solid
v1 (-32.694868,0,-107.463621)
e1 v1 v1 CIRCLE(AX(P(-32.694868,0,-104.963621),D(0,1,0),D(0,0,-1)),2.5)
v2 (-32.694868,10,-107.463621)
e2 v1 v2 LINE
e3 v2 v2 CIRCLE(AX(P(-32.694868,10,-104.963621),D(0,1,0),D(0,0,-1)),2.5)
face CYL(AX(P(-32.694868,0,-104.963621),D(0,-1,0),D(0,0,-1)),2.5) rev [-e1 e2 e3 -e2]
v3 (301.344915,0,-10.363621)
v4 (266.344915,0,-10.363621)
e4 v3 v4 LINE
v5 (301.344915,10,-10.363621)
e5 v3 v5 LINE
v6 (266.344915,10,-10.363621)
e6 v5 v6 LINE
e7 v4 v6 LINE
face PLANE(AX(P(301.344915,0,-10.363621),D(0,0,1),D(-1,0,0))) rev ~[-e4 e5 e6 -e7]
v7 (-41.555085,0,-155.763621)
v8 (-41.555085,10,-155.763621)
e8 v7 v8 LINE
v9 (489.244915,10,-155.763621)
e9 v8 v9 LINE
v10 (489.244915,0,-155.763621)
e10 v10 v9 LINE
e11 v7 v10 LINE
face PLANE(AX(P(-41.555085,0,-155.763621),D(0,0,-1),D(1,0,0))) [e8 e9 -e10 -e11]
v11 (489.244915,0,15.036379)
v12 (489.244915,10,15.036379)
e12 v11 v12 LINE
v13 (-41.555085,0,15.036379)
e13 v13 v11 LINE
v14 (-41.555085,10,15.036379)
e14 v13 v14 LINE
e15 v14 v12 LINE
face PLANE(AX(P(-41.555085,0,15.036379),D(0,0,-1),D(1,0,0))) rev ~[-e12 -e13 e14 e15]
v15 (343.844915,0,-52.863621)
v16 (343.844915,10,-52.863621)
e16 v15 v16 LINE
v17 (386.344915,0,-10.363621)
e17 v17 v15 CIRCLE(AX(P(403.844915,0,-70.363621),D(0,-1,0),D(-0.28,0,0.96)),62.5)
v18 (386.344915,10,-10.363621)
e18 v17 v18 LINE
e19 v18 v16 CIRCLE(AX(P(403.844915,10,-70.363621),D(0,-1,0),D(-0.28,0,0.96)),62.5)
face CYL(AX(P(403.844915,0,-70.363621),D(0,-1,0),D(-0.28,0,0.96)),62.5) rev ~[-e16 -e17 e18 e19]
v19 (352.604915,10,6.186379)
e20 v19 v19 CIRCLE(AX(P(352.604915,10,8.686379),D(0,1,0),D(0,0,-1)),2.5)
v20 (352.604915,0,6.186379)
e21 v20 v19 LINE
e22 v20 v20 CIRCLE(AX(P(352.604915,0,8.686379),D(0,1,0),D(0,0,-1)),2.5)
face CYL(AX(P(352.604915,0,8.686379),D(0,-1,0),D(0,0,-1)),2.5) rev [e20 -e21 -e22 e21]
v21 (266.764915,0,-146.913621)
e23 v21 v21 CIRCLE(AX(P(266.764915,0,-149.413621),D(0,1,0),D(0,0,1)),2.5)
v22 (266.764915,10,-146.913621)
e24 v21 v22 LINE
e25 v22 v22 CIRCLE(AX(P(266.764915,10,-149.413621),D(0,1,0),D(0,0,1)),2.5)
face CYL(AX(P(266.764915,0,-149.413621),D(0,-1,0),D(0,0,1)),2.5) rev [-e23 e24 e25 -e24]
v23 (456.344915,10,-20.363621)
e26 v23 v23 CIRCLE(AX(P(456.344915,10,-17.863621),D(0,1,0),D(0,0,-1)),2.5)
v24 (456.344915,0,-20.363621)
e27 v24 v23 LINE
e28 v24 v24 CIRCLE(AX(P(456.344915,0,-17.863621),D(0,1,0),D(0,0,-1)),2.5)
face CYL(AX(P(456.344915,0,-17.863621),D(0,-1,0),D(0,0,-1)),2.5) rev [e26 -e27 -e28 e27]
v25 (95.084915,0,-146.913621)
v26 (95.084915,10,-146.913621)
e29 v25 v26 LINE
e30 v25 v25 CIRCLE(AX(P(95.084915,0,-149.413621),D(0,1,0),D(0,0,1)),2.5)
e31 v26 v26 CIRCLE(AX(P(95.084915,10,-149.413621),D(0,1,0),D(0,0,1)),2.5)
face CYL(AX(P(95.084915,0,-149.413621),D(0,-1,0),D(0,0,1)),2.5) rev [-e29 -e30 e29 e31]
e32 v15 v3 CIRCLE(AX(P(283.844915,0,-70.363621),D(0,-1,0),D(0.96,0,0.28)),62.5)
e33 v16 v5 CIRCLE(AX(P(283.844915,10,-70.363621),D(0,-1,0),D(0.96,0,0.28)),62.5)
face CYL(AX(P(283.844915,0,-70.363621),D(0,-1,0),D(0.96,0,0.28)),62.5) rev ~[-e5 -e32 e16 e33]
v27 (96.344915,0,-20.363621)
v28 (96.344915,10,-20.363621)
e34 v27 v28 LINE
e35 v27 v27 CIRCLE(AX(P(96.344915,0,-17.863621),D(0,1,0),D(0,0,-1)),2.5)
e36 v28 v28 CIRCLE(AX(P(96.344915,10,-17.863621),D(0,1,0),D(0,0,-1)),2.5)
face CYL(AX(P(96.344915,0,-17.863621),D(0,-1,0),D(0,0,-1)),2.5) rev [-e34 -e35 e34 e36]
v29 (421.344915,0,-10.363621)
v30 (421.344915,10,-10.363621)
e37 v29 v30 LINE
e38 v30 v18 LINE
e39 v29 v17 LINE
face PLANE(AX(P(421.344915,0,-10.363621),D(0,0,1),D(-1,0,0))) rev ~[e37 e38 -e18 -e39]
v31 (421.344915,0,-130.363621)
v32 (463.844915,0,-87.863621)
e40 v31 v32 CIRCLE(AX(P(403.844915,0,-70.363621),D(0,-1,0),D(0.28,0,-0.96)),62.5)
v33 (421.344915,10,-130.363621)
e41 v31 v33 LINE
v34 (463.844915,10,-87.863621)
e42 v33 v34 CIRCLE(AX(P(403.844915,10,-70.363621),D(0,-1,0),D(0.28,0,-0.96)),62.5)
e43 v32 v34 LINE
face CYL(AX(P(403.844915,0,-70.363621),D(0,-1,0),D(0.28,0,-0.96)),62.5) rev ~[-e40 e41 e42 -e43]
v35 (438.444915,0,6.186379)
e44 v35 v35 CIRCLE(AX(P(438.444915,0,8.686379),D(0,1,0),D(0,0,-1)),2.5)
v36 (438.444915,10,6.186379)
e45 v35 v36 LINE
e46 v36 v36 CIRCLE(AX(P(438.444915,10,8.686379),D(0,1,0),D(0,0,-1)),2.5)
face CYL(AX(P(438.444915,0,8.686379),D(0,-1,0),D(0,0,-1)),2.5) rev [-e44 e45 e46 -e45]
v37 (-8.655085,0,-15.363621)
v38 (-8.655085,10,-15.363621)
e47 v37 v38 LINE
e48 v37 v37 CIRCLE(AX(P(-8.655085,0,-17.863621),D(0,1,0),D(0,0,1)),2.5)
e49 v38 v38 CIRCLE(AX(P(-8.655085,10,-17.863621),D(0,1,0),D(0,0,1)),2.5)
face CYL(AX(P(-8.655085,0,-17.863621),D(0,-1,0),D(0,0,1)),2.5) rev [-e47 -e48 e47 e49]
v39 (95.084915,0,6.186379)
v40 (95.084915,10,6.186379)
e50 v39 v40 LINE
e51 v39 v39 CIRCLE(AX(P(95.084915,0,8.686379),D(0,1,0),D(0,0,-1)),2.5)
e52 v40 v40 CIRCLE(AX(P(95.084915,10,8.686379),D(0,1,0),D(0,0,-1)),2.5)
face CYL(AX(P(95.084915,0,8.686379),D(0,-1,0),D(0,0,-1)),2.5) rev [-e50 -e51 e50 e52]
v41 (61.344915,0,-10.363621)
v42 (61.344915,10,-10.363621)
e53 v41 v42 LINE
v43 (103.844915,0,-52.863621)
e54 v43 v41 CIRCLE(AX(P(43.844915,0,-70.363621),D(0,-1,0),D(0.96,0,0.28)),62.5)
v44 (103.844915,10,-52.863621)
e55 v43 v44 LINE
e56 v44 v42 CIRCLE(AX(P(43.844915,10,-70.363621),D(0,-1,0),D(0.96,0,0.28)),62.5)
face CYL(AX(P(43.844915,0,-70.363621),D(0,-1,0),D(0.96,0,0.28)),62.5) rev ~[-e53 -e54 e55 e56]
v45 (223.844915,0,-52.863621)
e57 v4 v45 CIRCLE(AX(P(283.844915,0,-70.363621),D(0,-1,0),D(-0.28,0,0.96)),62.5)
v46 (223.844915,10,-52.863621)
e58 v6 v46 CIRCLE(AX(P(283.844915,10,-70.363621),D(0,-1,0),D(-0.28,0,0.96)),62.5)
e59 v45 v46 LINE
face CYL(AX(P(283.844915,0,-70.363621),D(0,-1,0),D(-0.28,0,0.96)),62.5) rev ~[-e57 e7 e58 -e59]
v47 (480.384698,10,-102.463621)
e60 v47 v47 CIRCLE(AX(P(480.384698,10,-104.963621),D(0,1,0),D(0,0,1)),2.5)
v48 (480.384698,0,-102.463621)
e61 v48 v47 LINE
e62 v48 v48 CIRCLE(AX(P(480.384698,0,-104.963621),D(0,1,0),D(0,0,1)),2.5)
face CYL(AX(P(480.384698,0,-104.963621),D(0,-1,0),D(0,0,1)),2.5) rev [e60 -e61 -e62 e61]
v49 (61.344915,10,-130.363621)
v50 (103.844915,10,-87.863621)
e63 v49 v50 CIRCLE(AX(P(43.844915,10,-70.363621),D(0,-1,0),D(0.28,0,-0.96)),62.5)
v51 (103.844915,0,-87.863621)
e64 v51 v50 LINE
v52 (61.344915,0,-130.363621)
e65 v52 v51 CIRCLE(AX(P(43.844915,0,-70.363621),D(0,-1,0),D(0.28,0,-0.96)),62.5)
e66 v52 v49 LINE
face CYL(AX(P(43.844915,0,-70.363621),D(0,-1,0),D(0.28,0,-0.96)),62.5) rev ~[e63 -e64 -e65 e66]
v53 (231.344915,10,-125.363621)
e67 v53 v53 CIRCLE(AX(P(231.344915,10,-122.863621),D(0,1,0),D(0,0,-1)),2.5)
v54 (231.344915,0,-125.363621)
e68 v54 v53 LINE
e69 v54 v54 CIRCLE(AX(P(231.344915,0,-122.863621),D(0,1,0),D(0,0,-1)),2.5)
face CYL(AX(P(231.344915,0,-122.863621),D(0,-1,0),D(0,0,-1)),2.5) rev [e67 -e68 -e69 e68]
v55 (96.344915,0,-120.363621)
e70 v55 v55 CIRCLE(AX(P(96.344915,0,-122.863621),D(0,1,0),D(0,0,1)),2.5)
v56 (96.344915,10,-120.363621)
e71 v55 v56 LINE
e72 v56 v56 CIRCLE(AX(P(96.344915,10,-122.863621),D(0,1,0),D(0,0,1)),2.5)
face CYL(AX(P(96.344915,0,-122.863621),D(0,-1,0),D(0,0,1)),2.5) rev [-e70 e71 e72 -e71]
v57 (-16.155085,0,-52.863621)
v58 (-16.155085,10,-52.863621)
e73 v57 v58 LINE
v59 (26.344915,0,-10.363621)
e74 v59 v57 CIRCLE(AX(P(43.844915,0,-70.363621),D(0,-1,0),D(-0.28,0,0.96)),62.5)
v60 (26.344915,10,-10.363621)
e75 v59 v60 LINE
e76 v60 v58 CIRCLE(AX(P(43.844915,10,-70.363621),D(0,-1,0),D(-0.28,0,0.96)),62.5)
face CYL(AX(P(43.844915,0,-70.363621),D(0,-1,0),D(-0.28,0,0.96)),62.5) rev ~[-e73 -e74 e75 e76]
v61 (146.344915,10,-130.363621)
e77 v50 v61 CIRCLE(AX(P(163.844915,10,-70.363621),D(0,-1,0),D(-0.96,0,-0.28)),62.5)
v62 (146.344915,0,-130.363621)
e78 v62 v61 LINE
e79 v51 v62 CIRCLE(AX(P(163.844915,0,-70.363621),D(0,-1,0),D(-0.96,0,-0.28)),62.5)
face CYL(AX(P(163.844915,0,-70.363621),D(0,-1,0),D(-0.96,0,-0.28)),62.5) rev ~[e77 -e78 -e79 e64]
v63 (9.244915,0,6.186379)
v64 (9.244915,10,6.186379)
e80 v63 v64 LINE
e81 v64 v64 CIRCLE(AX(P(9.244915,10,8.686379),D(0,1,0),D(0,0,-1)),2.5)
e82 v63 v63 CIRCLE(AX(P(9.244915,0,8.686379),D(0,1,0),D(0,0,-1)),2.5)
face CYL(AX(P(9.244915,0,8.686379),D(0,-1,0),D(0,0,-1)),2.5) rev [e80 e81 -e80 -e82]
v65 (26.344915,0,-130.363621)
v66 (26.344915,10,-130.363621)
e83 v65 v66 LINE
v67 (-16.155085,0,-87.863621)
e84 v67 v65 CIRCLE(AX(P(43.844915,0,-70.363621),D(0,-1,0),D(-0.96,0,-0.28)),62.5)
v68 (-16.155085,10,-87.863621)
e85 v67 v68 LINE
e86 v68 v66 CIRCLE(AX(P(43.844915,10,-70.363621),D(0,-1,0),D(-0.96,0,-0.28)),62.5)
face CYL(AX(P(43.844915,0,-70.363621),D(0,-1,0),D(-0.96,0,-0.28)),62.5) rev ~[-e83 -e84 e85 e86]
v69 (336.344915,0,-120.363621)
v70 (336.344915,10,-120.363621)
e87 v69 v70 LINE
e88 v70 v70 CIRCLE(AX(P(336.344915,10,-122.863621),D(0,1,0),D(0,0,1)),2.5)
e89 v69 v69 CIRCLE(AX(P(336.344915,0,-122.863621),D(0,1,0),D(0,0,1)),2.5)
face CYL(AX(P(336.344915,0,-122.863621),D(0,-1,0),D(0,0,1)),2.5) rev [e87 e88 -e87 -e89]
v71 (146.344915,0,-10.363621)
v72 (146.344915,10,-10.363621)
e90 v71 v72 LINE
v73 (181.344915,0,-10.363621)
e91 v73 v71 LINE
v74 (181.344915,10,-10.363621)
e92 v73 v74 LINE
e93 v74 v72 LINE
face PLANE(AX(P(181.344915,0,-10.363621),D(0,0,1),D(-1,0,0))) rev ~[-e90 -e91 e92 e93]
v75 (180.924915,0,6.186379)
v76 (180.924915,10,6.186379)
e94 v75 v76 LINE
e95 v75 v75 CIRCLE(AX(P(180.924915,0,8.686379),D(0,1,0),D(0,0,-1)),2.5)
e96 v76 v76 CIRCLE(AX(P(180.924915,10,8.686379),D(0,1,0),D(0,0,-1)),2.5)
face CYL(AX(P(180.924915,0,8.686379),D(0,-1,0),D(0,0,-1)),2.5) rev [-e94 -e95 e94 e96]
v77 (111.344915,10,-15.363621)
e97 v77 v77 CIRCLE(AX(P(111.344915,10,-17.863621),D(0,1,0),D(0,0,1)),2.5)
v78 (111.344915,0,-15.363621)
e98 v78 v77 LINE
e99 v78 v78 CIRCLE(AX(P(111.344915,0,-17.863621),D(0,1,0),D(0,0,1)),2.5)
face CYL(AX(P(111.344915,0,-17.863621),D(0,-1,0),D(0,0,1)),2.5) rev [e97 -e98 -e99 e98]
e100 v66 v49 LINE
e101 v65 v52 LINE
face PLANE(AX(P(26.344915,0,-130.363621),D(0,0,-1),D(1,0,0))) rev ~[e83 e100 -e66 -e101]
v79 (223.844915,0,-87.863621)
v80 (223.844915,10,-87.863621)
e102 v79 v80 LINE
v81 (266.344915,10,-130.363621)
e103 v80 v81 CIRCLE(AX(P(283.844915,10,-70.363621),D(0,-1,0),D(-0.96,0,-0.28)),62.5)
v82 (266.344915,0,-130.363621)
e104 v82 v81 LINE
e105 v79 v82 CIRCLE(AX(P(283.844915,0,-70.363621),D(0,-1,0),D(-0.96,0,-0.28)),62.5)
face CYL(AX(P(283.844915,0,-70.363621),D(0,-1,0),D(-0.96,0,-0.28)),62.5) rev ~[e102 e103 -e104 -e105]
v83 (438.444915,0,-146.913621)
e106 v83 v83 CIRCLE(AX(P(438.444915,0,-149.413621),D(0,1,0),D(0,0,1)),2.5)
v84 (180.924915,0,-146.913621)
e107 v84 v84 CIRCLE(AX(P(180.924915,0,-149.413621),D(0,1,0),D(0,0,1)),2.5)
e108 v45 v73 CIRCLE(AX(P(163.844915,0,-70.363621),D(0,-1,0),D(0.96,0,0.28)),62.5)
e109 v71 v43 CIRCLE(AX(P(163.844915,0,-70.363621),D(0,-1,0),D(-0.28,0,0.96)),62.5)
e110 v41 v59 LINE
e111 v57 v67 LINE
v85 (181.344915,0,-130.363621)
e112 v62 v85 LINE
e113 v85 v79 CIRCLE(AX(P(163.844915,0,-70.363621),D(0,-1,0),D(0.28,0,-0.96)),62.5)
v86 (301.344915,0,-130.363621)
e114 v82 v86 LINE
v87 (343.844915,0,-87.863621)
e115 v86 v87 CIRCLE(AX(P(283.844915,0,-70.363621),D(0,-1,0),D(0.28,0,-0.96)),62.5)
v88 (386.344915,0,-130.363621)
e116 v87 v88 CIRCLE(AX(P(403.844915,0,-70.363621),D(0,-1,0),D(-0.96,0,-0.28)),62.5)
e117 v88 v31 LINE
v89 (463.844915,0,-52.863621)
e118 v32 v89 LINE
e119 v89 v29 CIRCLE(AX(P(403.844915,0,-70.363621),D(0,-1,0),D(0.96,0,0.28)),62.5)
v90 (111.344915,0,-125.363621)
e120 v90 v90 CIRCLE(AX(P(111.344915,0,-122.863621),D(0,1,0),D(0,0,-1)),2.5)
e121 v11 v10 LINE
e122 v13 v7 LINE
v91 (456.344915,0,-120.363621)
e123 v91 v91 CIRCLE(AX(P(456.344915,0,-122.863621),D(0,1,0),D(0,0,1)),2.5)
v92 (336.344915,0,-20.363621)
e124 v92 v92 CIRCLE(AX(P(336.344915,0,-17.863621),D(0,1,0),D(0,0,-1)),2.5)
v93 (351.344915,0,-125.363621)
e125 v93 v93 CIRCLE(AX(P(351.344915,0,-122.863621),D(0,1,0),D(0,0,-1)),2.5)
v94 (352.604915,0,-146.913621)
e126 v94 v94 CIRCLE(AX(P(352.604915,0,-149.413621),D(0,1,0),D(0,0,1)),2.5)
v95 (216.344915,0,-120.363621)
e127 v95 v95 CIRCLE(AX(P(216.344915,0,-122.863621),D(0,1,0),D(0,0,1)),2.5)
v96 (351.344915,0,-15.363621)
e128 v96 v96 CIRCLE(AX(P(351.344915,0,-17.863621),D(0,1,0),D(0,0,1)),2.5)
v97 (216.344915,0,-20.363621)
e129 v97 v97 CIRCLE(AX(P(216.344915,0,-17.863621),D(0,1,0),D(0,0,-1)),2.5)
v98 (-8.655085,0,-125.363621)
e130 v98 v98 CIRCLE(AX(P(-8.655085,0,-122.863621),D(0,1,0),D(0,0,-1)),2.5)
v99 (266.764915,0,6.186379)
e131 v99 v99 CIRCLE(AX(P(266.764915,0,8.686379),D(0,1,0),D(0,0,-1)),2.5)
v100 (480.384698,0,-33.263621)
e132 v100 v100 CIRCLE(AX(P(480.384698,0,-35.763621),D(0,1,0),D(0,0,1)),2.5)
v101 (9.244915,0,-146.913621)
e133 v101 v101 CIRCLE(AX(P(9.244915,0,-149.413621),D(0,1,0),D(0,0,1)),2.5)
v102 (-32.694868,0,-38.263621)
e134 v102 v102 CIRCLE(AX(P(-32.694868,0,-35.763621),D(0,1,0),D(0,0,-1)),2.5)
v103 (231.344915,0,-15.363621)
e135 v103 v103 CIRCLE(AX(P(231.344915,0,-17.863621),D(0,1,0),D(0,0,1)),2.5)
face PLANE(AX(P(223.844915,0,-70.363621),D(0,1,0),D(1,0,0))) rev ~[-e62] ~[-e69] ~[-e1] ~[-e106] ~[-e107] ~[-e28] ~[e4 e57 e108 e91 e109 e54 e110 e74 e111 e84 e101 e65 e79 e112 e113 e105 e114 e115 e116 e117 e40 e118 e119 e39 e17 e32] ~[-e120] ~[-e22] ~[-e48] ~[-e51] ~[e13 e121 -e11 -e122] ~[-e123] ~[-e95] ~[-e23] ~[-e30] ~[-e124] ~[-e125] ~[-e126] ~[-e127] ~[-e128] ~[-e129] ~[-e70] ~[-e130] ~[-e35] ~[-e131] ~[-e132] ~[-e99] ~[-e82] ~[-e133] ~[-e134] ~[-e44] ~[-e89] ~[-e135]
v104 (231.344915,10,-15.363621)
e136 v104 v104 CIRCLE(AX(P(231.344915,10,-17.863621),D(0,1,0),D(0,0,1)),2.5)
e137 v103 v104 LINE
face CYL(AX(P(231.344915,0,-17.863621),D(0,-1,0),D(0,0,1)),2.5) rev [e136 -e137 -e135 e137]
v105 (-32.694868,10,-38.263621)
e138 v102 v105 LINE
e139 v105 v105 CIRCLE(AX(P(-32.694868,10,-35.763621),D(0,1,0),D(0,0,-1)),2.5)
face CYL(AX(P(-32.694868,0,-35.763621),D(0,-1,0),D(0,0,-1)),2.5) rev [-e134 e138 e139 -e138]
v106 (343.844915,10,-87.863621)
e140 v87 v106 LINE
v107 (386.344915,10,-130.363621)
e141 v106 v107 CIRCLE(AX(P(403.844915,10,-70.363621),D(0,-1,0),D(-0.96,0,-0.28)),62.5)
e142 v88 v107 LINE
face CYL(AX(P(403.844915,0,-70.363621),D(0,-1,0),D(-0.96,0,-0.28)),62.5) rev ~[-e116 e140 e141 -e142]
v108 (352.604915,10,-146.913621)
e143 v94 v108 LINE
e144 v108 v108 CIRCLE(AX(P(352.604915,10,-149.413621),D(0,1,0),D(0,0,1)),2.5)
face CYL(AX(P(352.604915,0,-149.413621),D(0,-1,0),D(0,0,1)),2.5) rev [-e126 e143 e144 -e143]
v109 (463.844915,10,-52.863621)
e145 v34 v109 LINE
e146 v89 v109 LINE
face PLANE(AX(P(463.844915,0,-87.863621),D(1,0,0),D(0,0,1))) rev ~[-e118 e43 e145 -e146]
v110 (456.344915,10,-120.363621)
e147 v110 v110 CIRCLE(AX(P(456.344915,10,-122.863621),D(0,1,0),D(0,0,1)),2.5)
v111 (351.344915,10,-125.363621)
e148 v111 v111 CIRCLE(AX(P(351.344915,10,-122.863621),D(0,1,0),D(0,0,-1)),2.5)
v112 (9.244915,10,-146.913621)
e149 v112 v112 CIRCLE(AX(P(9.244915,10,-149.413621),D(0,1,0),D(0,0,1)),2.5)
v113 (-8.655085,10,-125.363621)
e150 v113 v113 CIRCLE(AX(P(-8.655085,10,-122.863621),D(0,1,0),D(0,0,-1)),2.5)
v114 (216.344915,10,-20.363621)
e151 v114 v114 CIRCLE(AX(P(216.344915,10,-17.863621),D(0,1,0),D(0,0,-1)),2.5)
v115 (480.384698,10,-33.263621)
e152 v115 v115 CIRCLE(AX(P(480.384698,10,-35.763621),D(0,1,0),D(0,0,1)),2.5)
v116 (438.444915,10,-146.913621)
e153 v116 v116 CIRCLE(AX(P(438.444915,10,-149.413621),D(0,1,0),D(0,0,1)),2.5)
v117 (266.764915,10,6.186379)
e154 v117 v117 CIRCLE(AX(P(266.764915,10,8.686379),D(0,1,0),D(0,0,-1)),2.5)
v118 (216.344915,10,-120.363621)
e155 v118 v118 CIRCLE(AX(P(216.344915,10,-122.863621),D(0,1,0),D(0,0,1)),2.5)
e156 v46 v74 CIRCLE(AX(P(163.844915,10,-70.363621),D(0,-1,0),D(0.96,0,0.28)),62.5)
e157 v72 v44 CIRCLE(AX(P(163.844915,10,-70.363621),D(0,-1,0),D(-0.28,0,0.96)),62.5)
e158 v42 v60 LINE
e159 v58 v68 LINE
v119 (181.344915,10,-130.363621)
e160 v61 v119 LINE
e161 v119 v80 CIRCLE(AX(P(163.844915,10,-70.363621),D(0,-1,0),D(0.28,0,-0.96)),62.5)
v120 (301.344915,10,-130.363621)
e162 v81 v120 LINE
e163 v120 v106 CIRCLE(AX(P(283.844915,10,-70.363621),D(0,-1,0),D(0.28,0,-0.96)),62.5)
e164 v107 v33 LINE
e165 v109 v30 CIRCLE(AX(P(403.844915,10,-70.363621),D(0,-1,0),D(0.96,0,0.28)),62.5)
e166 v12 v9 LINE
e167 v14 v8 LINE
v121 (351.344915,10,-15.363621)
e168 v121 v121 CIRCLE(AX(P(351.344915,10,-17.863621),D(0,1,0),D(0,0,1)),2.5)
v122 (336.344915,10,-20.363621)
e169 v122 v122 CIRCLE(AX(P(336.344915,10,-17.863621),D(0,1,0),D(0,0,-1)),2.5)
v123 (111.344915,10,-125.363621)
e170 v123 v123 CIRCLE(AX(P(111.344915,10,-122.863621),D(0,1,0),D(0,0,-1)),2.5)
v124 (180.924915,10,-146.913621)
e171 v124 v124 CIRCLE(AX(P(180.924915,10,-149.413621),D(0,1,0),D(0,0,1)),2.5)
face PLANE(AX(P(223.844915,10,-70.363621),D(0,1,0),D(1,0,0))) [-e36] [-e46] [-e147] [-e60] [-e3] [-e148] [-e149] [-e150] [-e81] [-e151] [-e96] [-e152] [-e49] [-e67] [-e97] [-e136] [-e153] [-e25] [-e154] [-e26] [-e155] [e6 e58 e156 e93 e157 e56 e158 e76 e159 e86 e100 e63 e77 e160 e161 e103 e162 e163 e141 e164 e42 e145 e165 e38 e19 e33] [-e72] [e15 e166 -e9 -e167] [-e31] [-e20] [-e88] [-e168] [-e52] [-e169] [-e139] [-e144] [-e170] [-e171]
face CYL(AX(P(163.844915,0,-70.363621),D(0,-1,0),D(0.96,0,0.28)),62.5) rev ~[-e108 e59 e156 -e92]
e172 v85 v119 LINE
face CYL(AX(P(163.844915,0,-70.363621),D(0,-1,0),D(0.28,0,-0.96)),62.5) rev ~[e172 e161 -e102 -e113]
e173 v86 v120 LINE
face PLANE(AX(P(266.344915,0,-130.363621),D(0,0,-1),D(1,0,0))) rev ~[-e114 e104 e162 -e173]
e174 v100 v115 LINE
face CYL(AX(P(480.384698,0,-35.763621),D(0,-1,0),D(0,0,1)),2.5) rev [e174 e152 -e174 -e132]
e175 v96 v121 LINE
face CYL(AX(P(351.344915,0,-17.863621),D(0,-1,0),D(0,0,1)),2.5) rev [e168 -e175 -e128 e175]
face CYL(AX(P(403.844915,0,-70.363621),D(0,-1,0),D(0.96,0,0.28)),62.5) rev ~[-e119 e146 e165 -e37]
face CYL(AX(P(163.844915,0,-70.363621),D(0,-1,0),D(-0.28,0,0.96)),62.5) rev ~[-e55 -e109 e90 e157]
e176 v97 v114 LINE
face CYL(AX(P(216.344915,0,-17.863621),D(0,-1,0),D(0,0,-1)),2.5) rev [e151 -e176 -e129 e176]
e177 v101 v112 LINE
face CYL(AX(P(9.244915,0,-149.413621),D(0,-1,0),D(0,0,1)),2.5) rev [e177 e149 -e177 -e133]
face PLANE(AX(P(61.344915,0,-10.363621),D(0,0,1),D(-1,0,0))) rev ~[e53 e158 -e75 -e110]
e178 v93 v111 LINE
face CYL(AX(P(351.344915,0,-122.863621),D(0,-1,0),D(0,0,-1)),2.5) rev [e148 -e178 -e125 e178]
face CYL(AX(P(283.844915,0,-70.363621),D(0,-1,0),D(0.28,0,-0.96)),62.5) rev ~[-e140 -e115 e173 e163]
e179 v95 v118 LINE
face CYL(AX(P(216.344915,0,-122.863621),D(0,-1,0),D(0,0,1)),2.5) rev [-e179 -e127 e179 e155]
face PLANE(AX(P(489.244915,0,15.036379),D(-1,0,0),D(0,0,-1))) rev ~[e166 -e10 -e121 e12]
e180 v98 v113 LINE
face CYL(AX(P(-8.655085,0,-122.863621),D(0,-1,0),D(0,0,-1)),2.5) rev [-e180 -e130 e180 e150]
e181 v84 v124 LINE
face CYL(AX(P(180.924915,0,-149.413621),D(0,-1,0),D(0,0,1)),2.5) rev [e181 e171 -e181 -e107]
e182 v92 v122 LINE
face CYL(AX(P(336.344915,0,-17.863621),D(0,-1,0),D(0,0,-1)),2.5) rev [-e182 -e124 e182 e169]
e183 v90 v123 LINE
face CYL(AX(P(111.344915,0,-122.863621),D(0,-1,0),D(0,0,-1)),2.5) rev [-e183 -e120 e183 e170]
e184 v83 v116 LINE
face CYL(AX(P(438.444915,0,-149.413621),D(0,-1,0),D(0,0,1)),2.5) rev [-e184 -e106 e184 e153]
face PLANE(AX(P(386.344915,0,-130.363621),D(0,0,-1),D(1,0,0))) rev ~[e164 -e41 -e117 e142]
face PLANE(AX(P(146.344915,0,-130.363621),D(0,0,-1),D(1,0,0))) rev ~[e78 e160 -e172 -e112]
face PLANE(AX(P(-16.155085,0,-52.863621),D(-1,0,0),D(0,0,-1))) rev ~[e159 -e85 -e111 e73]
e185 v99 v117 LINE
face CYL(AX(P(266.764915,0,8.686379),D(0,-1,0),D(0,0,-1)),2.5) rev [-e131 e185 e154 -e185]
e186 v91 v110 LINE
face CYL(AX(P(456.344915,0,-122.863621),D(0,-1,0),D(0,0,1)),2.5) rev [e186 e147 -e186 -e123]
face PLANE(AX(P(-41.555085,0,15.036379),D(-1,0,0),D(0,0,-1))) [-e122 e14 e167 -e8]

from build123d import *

# Parameters (mm, degrees)
SKETCH1_W           = 530.8
SKETCH1_H           = 170.8
SKETCH1_R           = 2.5
BOSS_EXTRUDE1_DEPTH = 10


with BuildPart() as part:
    # Sketch1 → Boss-Extrude1 (new body)
    with BuildSketch(Plane(origin=(0, 0, 0), x_dir=(1, 0, 0), z_dir=(0, 1, 0))):
        with Locations((223.844914973, 70.363620549)):
            Rectangle(SKETCH1_W, SKETCH1_H)
        with Locations(Location((-8.655085027, 17.863620549, 0), (0, 0, 270))):
            Circle(SKETCH1_R, mode=Mode.SUBTRACT)
        with Locations(Location((96.344914973, 17.863620549, 0), (0, 0, 90))):
            Circle(SKETCH1_R, mode=Mode.SUBTRACT)
        with Locations(Location((96.344914973, 122.863620549, 0), (0, 0, 270))):
            Circle(SKETCH1_R, mode=Mode.SUBTRACT)
        with Locations(Location((-8.655085027, 122.863620549, 0), (0, 0, 90))):
            Circle(SKETCH1_R, mode=Mode.SUBTRACT)
        with Locations(Location((111.344914973, 17.863620549, 0), (0, 0, 270))):
            Circle(SKETCH1_R, mode=Mode.SUBTRACT)
        with Locations(Location((216.344914973, 17.863620549, 0), (0, 0, 90))):
            Circle(SKETCH1_R, mode=Mode.SUBTRACT)
        with Locations(Location((111.344914973, 122.863620549, 0), (0, 0, 90))):
            Circle(SKETCH1_R, mode=Mode.SUBTRACT)
        with Locations(Location((216.344914973, 122.863620549, 0), (0, 0, 270))):
            Circle(SKETCH1_R, mode=Mode.SUBTRACT)
        with Locations(Location((231.344914973, 17.863620549, 0), (0, 0, 270))):
            Circle(SKETCH1_R, mode=Mode.SUBTRACT)
        with Locations(Location((336.344914973, 17.863620549, 0), (0, 0, 90))):
            Circle(SKETCH1_R, mode=Mode.SUBTRACT)
        with Locations(Location((231.344914973, 122.863620549, 0), (0, 0, 90))):
            Circle(SKETCH1_R, mode=Mode.SUBTRACT)
        with Locations(Location((336.344914973, 122.863620549, 0), (0, 0, 270))):
            Circle(SKETCH1_R, mode=Mode.SUBTRACT)
        with Locations(Location((351.344914973, 17.863620549, 0), (0, 0, 270))):
            Circle(SKETCH1_R, mode=Mode.SUBTRACT)
        with Locations(Location((456.344914973, 17.863620549, 0), (0, 0, 90))):
            Circle(SKETCH1_R, mode=Mode.SUBTRACT)
        with Locations(Location((351.344914973, 122.863620549, 0), (0, 0, 90))):
            Circle(SKETCH1_R, mode=Mode.SUBTRACT)
        with Locations(Location((456.344914973, 122.863620549, 0), (0, 0, 270))):
            Circle(SKETCH1_R, mode=Mode.SUBTRACT)
        with Locations(Location((9.244914973, 149.413620549, 0), (0, 0, 270))):
            Circle(SKETCH1_R, mode=Mode.SUBTRACT)
        with Locations(Location((95.084914973, 149.413620549, 0), (0, 0, 270))):
            Circle(SKETCH1_R, mode=Mode.SUBTRACT)
        with Locations(Location((180.924914973, 149.413620549, 0), (0, 0, 270))):
            Circle(SKETCH1_R, mode=Mode.SUBTRACT)
        with Locations(Location((266.764914973, 149.413620549, 0), (0, 0, 270))):
            Circle(SKETCH1_R, mode=Mode.SUBTRACT)
        with Locations(Location((352.604914973, 149.413620549, 0), (0, 0, 270))):
            Circle(SKETCH1_R, mode=Mode.SUBTRACT)
        with Locations(Location((438.444914973, 149.413620549, 0), (0, 0, 270))):
            Circle(SKETCH1_R, mode=Mode.SUBTRACT)
        with Locations(Location((480.384698099, 35.763620549, 0), (0, 0, 270))):
            Circle(SKETCH1_R, mode=Mode.SUBTRACT)
        with Locations(Location((438.444914973, -8.686379451, 0), (0, 0, 90))):
            Circle(SKETCH1_R, mode=Mode.SUBTRACT)
        with Locations(Location((352.604914973, -8.686379451, 0), (0, 0, 90))):
            Circle(SKETCH1_R, mode=Mode.SUBTRACT)
        with Locations(Location((266.764914973, -8.686379451, 0), (0, 0, 90))):
            Circle(SKETCH1_R, mode=Mode.SUBTRACT)
        with Locations(Location((180.924914973, -8.686379451, 0), (0, 0, 90))):
            Circle(SKETCH1_R, mode=Mode.SUBTRACT)
        with Locations(Location((95.084914973, -8.686379451, 0), (0, 0, 90))):
            Circle(SKETCH1_R, mode=Mode.SUBTRACT)
        with Locations(Location((9.244914973, -8.686379451, 0), (0, 0, 90))):
            Circle(SKETCH1_R, mode=Mode.SUBTRACT)
        with Locations(Location((480.384698099, 104.963620549, 0), (0, 0, 270))):
            Circle(SKETCH1_R, mode=Mode.SUBTRACT)
        with Locations(Location((-32.694868153, 35.763620549, 0), (0, 0, 90))):
            Circle(SKETCH1_R, mode=Mode.SUBTRACT)
        with Locations(Location((-32.694868153, 104.963620549, 0), (0, 0, 90))):
            Circle(SKETCH1_R, mode=Mode.SUBTRACT)
        with BuildLine():
            Line((146.344914973, 130.363620549), (181.344914973, 130.363620549))
            ThreePointArc((181.344914973, 130.363620549), (208.039088797, 114.557794374), (223.844914973, 87.863620549))
            ThreePointArc((223.844914973, 87.863620549), (239.650741149, 114.557794374), (266.344914973, 130.363620549))
            Line((266.344914973, 130.363620549), (301.344914973, 130.363620549))
            ThreePointArc((301.344914973, 130.363620549), (328.039088797, 114.557794374), (343.844914973, 87.863620549))
            ThreePointArc((343.844914973, 87.863620549), (359.650741149, 114.557794374), (386.344914973, 130.363620549))
            Line((386.344914973, 130.363620549), (421.344914973, 130.363620549))
            ThreePointArc((421.344914973, 130.363620549), (448.039088797, 114.557794374), (463.844914973, 87.863620549))
            Line((463.844914973, 87.863620549), (463.844914973, 52.863620549))
            ThreePointArc((463.844914973, 52.863620549), (448.039088797, 26.169446725), (421.344914973, 10.363620549))
            Line((421.344914973, 10.363620549), (386.344914973, 10.363620549))
            ThreePointArc((386.344914973, 10.363620549), (359.650741149, 26.169446725), (343.844914973, 52.863620549))
            ThreePointArc((343.844914973, 52.863620549), (328.039088797, 26.169446725), (301.344914973, 10.363620549))
            Line((301.344914973, 10.363620549), (266.344914973, 10.363620549))
            ThreePointArc((266.344914973, 10.363620549), (239.650741149, 26.169446725), (223.844914973, 52.863620549))
            ThreePointArc((223.844914973, 52.863620549), (208.039088797, 26.169446725), (181.344914973, 10.363620549))
            Line((181.344914973, 10.363620549), (146.344914973, 10.363620549))
            ThreePointArc((146.344914973, 10.363620549), (119.650741149, 26.169446725), (103.844914973, 52.863620549))
            ThreePointArc((103.844914973, 52.863620549), (88.039088797, 26.169446725), (61.344914973, 10.363620549))
            Line((61.344914973, 10.363620549), (26.344914973, 10.363620549))
            ThreePointArc((26.344914973, 10.363620549), (-0.349258851, 26.169446725), (-16.155085027, 52.863620549))
            Line((-16.155085027, 52.863620549), (-16.155085027, 87.863620549))
            ThreePointArc((-16.155085027, 87.863620549), (-0.349258851, 114.557794374), (26.344914973, 130.363620549))
            Line((26.344914973, 130.363620549), (61.344914973, 130.363620549))
            ThreePointArc((61.344914973, 130.363620549), (88.039088797, 114.557794374), (103.844914973, 87.863620549))
            ThreePointArc((103.844914973, 87.863620549), (119.650741149, 114.557794374), (146.344914973, 130.363620549))
        make_face(mode=Mode.SUBTRACT)
    extrude(amount=BOSS_EXTRUDE1_DEPTH)


solid = part.part
